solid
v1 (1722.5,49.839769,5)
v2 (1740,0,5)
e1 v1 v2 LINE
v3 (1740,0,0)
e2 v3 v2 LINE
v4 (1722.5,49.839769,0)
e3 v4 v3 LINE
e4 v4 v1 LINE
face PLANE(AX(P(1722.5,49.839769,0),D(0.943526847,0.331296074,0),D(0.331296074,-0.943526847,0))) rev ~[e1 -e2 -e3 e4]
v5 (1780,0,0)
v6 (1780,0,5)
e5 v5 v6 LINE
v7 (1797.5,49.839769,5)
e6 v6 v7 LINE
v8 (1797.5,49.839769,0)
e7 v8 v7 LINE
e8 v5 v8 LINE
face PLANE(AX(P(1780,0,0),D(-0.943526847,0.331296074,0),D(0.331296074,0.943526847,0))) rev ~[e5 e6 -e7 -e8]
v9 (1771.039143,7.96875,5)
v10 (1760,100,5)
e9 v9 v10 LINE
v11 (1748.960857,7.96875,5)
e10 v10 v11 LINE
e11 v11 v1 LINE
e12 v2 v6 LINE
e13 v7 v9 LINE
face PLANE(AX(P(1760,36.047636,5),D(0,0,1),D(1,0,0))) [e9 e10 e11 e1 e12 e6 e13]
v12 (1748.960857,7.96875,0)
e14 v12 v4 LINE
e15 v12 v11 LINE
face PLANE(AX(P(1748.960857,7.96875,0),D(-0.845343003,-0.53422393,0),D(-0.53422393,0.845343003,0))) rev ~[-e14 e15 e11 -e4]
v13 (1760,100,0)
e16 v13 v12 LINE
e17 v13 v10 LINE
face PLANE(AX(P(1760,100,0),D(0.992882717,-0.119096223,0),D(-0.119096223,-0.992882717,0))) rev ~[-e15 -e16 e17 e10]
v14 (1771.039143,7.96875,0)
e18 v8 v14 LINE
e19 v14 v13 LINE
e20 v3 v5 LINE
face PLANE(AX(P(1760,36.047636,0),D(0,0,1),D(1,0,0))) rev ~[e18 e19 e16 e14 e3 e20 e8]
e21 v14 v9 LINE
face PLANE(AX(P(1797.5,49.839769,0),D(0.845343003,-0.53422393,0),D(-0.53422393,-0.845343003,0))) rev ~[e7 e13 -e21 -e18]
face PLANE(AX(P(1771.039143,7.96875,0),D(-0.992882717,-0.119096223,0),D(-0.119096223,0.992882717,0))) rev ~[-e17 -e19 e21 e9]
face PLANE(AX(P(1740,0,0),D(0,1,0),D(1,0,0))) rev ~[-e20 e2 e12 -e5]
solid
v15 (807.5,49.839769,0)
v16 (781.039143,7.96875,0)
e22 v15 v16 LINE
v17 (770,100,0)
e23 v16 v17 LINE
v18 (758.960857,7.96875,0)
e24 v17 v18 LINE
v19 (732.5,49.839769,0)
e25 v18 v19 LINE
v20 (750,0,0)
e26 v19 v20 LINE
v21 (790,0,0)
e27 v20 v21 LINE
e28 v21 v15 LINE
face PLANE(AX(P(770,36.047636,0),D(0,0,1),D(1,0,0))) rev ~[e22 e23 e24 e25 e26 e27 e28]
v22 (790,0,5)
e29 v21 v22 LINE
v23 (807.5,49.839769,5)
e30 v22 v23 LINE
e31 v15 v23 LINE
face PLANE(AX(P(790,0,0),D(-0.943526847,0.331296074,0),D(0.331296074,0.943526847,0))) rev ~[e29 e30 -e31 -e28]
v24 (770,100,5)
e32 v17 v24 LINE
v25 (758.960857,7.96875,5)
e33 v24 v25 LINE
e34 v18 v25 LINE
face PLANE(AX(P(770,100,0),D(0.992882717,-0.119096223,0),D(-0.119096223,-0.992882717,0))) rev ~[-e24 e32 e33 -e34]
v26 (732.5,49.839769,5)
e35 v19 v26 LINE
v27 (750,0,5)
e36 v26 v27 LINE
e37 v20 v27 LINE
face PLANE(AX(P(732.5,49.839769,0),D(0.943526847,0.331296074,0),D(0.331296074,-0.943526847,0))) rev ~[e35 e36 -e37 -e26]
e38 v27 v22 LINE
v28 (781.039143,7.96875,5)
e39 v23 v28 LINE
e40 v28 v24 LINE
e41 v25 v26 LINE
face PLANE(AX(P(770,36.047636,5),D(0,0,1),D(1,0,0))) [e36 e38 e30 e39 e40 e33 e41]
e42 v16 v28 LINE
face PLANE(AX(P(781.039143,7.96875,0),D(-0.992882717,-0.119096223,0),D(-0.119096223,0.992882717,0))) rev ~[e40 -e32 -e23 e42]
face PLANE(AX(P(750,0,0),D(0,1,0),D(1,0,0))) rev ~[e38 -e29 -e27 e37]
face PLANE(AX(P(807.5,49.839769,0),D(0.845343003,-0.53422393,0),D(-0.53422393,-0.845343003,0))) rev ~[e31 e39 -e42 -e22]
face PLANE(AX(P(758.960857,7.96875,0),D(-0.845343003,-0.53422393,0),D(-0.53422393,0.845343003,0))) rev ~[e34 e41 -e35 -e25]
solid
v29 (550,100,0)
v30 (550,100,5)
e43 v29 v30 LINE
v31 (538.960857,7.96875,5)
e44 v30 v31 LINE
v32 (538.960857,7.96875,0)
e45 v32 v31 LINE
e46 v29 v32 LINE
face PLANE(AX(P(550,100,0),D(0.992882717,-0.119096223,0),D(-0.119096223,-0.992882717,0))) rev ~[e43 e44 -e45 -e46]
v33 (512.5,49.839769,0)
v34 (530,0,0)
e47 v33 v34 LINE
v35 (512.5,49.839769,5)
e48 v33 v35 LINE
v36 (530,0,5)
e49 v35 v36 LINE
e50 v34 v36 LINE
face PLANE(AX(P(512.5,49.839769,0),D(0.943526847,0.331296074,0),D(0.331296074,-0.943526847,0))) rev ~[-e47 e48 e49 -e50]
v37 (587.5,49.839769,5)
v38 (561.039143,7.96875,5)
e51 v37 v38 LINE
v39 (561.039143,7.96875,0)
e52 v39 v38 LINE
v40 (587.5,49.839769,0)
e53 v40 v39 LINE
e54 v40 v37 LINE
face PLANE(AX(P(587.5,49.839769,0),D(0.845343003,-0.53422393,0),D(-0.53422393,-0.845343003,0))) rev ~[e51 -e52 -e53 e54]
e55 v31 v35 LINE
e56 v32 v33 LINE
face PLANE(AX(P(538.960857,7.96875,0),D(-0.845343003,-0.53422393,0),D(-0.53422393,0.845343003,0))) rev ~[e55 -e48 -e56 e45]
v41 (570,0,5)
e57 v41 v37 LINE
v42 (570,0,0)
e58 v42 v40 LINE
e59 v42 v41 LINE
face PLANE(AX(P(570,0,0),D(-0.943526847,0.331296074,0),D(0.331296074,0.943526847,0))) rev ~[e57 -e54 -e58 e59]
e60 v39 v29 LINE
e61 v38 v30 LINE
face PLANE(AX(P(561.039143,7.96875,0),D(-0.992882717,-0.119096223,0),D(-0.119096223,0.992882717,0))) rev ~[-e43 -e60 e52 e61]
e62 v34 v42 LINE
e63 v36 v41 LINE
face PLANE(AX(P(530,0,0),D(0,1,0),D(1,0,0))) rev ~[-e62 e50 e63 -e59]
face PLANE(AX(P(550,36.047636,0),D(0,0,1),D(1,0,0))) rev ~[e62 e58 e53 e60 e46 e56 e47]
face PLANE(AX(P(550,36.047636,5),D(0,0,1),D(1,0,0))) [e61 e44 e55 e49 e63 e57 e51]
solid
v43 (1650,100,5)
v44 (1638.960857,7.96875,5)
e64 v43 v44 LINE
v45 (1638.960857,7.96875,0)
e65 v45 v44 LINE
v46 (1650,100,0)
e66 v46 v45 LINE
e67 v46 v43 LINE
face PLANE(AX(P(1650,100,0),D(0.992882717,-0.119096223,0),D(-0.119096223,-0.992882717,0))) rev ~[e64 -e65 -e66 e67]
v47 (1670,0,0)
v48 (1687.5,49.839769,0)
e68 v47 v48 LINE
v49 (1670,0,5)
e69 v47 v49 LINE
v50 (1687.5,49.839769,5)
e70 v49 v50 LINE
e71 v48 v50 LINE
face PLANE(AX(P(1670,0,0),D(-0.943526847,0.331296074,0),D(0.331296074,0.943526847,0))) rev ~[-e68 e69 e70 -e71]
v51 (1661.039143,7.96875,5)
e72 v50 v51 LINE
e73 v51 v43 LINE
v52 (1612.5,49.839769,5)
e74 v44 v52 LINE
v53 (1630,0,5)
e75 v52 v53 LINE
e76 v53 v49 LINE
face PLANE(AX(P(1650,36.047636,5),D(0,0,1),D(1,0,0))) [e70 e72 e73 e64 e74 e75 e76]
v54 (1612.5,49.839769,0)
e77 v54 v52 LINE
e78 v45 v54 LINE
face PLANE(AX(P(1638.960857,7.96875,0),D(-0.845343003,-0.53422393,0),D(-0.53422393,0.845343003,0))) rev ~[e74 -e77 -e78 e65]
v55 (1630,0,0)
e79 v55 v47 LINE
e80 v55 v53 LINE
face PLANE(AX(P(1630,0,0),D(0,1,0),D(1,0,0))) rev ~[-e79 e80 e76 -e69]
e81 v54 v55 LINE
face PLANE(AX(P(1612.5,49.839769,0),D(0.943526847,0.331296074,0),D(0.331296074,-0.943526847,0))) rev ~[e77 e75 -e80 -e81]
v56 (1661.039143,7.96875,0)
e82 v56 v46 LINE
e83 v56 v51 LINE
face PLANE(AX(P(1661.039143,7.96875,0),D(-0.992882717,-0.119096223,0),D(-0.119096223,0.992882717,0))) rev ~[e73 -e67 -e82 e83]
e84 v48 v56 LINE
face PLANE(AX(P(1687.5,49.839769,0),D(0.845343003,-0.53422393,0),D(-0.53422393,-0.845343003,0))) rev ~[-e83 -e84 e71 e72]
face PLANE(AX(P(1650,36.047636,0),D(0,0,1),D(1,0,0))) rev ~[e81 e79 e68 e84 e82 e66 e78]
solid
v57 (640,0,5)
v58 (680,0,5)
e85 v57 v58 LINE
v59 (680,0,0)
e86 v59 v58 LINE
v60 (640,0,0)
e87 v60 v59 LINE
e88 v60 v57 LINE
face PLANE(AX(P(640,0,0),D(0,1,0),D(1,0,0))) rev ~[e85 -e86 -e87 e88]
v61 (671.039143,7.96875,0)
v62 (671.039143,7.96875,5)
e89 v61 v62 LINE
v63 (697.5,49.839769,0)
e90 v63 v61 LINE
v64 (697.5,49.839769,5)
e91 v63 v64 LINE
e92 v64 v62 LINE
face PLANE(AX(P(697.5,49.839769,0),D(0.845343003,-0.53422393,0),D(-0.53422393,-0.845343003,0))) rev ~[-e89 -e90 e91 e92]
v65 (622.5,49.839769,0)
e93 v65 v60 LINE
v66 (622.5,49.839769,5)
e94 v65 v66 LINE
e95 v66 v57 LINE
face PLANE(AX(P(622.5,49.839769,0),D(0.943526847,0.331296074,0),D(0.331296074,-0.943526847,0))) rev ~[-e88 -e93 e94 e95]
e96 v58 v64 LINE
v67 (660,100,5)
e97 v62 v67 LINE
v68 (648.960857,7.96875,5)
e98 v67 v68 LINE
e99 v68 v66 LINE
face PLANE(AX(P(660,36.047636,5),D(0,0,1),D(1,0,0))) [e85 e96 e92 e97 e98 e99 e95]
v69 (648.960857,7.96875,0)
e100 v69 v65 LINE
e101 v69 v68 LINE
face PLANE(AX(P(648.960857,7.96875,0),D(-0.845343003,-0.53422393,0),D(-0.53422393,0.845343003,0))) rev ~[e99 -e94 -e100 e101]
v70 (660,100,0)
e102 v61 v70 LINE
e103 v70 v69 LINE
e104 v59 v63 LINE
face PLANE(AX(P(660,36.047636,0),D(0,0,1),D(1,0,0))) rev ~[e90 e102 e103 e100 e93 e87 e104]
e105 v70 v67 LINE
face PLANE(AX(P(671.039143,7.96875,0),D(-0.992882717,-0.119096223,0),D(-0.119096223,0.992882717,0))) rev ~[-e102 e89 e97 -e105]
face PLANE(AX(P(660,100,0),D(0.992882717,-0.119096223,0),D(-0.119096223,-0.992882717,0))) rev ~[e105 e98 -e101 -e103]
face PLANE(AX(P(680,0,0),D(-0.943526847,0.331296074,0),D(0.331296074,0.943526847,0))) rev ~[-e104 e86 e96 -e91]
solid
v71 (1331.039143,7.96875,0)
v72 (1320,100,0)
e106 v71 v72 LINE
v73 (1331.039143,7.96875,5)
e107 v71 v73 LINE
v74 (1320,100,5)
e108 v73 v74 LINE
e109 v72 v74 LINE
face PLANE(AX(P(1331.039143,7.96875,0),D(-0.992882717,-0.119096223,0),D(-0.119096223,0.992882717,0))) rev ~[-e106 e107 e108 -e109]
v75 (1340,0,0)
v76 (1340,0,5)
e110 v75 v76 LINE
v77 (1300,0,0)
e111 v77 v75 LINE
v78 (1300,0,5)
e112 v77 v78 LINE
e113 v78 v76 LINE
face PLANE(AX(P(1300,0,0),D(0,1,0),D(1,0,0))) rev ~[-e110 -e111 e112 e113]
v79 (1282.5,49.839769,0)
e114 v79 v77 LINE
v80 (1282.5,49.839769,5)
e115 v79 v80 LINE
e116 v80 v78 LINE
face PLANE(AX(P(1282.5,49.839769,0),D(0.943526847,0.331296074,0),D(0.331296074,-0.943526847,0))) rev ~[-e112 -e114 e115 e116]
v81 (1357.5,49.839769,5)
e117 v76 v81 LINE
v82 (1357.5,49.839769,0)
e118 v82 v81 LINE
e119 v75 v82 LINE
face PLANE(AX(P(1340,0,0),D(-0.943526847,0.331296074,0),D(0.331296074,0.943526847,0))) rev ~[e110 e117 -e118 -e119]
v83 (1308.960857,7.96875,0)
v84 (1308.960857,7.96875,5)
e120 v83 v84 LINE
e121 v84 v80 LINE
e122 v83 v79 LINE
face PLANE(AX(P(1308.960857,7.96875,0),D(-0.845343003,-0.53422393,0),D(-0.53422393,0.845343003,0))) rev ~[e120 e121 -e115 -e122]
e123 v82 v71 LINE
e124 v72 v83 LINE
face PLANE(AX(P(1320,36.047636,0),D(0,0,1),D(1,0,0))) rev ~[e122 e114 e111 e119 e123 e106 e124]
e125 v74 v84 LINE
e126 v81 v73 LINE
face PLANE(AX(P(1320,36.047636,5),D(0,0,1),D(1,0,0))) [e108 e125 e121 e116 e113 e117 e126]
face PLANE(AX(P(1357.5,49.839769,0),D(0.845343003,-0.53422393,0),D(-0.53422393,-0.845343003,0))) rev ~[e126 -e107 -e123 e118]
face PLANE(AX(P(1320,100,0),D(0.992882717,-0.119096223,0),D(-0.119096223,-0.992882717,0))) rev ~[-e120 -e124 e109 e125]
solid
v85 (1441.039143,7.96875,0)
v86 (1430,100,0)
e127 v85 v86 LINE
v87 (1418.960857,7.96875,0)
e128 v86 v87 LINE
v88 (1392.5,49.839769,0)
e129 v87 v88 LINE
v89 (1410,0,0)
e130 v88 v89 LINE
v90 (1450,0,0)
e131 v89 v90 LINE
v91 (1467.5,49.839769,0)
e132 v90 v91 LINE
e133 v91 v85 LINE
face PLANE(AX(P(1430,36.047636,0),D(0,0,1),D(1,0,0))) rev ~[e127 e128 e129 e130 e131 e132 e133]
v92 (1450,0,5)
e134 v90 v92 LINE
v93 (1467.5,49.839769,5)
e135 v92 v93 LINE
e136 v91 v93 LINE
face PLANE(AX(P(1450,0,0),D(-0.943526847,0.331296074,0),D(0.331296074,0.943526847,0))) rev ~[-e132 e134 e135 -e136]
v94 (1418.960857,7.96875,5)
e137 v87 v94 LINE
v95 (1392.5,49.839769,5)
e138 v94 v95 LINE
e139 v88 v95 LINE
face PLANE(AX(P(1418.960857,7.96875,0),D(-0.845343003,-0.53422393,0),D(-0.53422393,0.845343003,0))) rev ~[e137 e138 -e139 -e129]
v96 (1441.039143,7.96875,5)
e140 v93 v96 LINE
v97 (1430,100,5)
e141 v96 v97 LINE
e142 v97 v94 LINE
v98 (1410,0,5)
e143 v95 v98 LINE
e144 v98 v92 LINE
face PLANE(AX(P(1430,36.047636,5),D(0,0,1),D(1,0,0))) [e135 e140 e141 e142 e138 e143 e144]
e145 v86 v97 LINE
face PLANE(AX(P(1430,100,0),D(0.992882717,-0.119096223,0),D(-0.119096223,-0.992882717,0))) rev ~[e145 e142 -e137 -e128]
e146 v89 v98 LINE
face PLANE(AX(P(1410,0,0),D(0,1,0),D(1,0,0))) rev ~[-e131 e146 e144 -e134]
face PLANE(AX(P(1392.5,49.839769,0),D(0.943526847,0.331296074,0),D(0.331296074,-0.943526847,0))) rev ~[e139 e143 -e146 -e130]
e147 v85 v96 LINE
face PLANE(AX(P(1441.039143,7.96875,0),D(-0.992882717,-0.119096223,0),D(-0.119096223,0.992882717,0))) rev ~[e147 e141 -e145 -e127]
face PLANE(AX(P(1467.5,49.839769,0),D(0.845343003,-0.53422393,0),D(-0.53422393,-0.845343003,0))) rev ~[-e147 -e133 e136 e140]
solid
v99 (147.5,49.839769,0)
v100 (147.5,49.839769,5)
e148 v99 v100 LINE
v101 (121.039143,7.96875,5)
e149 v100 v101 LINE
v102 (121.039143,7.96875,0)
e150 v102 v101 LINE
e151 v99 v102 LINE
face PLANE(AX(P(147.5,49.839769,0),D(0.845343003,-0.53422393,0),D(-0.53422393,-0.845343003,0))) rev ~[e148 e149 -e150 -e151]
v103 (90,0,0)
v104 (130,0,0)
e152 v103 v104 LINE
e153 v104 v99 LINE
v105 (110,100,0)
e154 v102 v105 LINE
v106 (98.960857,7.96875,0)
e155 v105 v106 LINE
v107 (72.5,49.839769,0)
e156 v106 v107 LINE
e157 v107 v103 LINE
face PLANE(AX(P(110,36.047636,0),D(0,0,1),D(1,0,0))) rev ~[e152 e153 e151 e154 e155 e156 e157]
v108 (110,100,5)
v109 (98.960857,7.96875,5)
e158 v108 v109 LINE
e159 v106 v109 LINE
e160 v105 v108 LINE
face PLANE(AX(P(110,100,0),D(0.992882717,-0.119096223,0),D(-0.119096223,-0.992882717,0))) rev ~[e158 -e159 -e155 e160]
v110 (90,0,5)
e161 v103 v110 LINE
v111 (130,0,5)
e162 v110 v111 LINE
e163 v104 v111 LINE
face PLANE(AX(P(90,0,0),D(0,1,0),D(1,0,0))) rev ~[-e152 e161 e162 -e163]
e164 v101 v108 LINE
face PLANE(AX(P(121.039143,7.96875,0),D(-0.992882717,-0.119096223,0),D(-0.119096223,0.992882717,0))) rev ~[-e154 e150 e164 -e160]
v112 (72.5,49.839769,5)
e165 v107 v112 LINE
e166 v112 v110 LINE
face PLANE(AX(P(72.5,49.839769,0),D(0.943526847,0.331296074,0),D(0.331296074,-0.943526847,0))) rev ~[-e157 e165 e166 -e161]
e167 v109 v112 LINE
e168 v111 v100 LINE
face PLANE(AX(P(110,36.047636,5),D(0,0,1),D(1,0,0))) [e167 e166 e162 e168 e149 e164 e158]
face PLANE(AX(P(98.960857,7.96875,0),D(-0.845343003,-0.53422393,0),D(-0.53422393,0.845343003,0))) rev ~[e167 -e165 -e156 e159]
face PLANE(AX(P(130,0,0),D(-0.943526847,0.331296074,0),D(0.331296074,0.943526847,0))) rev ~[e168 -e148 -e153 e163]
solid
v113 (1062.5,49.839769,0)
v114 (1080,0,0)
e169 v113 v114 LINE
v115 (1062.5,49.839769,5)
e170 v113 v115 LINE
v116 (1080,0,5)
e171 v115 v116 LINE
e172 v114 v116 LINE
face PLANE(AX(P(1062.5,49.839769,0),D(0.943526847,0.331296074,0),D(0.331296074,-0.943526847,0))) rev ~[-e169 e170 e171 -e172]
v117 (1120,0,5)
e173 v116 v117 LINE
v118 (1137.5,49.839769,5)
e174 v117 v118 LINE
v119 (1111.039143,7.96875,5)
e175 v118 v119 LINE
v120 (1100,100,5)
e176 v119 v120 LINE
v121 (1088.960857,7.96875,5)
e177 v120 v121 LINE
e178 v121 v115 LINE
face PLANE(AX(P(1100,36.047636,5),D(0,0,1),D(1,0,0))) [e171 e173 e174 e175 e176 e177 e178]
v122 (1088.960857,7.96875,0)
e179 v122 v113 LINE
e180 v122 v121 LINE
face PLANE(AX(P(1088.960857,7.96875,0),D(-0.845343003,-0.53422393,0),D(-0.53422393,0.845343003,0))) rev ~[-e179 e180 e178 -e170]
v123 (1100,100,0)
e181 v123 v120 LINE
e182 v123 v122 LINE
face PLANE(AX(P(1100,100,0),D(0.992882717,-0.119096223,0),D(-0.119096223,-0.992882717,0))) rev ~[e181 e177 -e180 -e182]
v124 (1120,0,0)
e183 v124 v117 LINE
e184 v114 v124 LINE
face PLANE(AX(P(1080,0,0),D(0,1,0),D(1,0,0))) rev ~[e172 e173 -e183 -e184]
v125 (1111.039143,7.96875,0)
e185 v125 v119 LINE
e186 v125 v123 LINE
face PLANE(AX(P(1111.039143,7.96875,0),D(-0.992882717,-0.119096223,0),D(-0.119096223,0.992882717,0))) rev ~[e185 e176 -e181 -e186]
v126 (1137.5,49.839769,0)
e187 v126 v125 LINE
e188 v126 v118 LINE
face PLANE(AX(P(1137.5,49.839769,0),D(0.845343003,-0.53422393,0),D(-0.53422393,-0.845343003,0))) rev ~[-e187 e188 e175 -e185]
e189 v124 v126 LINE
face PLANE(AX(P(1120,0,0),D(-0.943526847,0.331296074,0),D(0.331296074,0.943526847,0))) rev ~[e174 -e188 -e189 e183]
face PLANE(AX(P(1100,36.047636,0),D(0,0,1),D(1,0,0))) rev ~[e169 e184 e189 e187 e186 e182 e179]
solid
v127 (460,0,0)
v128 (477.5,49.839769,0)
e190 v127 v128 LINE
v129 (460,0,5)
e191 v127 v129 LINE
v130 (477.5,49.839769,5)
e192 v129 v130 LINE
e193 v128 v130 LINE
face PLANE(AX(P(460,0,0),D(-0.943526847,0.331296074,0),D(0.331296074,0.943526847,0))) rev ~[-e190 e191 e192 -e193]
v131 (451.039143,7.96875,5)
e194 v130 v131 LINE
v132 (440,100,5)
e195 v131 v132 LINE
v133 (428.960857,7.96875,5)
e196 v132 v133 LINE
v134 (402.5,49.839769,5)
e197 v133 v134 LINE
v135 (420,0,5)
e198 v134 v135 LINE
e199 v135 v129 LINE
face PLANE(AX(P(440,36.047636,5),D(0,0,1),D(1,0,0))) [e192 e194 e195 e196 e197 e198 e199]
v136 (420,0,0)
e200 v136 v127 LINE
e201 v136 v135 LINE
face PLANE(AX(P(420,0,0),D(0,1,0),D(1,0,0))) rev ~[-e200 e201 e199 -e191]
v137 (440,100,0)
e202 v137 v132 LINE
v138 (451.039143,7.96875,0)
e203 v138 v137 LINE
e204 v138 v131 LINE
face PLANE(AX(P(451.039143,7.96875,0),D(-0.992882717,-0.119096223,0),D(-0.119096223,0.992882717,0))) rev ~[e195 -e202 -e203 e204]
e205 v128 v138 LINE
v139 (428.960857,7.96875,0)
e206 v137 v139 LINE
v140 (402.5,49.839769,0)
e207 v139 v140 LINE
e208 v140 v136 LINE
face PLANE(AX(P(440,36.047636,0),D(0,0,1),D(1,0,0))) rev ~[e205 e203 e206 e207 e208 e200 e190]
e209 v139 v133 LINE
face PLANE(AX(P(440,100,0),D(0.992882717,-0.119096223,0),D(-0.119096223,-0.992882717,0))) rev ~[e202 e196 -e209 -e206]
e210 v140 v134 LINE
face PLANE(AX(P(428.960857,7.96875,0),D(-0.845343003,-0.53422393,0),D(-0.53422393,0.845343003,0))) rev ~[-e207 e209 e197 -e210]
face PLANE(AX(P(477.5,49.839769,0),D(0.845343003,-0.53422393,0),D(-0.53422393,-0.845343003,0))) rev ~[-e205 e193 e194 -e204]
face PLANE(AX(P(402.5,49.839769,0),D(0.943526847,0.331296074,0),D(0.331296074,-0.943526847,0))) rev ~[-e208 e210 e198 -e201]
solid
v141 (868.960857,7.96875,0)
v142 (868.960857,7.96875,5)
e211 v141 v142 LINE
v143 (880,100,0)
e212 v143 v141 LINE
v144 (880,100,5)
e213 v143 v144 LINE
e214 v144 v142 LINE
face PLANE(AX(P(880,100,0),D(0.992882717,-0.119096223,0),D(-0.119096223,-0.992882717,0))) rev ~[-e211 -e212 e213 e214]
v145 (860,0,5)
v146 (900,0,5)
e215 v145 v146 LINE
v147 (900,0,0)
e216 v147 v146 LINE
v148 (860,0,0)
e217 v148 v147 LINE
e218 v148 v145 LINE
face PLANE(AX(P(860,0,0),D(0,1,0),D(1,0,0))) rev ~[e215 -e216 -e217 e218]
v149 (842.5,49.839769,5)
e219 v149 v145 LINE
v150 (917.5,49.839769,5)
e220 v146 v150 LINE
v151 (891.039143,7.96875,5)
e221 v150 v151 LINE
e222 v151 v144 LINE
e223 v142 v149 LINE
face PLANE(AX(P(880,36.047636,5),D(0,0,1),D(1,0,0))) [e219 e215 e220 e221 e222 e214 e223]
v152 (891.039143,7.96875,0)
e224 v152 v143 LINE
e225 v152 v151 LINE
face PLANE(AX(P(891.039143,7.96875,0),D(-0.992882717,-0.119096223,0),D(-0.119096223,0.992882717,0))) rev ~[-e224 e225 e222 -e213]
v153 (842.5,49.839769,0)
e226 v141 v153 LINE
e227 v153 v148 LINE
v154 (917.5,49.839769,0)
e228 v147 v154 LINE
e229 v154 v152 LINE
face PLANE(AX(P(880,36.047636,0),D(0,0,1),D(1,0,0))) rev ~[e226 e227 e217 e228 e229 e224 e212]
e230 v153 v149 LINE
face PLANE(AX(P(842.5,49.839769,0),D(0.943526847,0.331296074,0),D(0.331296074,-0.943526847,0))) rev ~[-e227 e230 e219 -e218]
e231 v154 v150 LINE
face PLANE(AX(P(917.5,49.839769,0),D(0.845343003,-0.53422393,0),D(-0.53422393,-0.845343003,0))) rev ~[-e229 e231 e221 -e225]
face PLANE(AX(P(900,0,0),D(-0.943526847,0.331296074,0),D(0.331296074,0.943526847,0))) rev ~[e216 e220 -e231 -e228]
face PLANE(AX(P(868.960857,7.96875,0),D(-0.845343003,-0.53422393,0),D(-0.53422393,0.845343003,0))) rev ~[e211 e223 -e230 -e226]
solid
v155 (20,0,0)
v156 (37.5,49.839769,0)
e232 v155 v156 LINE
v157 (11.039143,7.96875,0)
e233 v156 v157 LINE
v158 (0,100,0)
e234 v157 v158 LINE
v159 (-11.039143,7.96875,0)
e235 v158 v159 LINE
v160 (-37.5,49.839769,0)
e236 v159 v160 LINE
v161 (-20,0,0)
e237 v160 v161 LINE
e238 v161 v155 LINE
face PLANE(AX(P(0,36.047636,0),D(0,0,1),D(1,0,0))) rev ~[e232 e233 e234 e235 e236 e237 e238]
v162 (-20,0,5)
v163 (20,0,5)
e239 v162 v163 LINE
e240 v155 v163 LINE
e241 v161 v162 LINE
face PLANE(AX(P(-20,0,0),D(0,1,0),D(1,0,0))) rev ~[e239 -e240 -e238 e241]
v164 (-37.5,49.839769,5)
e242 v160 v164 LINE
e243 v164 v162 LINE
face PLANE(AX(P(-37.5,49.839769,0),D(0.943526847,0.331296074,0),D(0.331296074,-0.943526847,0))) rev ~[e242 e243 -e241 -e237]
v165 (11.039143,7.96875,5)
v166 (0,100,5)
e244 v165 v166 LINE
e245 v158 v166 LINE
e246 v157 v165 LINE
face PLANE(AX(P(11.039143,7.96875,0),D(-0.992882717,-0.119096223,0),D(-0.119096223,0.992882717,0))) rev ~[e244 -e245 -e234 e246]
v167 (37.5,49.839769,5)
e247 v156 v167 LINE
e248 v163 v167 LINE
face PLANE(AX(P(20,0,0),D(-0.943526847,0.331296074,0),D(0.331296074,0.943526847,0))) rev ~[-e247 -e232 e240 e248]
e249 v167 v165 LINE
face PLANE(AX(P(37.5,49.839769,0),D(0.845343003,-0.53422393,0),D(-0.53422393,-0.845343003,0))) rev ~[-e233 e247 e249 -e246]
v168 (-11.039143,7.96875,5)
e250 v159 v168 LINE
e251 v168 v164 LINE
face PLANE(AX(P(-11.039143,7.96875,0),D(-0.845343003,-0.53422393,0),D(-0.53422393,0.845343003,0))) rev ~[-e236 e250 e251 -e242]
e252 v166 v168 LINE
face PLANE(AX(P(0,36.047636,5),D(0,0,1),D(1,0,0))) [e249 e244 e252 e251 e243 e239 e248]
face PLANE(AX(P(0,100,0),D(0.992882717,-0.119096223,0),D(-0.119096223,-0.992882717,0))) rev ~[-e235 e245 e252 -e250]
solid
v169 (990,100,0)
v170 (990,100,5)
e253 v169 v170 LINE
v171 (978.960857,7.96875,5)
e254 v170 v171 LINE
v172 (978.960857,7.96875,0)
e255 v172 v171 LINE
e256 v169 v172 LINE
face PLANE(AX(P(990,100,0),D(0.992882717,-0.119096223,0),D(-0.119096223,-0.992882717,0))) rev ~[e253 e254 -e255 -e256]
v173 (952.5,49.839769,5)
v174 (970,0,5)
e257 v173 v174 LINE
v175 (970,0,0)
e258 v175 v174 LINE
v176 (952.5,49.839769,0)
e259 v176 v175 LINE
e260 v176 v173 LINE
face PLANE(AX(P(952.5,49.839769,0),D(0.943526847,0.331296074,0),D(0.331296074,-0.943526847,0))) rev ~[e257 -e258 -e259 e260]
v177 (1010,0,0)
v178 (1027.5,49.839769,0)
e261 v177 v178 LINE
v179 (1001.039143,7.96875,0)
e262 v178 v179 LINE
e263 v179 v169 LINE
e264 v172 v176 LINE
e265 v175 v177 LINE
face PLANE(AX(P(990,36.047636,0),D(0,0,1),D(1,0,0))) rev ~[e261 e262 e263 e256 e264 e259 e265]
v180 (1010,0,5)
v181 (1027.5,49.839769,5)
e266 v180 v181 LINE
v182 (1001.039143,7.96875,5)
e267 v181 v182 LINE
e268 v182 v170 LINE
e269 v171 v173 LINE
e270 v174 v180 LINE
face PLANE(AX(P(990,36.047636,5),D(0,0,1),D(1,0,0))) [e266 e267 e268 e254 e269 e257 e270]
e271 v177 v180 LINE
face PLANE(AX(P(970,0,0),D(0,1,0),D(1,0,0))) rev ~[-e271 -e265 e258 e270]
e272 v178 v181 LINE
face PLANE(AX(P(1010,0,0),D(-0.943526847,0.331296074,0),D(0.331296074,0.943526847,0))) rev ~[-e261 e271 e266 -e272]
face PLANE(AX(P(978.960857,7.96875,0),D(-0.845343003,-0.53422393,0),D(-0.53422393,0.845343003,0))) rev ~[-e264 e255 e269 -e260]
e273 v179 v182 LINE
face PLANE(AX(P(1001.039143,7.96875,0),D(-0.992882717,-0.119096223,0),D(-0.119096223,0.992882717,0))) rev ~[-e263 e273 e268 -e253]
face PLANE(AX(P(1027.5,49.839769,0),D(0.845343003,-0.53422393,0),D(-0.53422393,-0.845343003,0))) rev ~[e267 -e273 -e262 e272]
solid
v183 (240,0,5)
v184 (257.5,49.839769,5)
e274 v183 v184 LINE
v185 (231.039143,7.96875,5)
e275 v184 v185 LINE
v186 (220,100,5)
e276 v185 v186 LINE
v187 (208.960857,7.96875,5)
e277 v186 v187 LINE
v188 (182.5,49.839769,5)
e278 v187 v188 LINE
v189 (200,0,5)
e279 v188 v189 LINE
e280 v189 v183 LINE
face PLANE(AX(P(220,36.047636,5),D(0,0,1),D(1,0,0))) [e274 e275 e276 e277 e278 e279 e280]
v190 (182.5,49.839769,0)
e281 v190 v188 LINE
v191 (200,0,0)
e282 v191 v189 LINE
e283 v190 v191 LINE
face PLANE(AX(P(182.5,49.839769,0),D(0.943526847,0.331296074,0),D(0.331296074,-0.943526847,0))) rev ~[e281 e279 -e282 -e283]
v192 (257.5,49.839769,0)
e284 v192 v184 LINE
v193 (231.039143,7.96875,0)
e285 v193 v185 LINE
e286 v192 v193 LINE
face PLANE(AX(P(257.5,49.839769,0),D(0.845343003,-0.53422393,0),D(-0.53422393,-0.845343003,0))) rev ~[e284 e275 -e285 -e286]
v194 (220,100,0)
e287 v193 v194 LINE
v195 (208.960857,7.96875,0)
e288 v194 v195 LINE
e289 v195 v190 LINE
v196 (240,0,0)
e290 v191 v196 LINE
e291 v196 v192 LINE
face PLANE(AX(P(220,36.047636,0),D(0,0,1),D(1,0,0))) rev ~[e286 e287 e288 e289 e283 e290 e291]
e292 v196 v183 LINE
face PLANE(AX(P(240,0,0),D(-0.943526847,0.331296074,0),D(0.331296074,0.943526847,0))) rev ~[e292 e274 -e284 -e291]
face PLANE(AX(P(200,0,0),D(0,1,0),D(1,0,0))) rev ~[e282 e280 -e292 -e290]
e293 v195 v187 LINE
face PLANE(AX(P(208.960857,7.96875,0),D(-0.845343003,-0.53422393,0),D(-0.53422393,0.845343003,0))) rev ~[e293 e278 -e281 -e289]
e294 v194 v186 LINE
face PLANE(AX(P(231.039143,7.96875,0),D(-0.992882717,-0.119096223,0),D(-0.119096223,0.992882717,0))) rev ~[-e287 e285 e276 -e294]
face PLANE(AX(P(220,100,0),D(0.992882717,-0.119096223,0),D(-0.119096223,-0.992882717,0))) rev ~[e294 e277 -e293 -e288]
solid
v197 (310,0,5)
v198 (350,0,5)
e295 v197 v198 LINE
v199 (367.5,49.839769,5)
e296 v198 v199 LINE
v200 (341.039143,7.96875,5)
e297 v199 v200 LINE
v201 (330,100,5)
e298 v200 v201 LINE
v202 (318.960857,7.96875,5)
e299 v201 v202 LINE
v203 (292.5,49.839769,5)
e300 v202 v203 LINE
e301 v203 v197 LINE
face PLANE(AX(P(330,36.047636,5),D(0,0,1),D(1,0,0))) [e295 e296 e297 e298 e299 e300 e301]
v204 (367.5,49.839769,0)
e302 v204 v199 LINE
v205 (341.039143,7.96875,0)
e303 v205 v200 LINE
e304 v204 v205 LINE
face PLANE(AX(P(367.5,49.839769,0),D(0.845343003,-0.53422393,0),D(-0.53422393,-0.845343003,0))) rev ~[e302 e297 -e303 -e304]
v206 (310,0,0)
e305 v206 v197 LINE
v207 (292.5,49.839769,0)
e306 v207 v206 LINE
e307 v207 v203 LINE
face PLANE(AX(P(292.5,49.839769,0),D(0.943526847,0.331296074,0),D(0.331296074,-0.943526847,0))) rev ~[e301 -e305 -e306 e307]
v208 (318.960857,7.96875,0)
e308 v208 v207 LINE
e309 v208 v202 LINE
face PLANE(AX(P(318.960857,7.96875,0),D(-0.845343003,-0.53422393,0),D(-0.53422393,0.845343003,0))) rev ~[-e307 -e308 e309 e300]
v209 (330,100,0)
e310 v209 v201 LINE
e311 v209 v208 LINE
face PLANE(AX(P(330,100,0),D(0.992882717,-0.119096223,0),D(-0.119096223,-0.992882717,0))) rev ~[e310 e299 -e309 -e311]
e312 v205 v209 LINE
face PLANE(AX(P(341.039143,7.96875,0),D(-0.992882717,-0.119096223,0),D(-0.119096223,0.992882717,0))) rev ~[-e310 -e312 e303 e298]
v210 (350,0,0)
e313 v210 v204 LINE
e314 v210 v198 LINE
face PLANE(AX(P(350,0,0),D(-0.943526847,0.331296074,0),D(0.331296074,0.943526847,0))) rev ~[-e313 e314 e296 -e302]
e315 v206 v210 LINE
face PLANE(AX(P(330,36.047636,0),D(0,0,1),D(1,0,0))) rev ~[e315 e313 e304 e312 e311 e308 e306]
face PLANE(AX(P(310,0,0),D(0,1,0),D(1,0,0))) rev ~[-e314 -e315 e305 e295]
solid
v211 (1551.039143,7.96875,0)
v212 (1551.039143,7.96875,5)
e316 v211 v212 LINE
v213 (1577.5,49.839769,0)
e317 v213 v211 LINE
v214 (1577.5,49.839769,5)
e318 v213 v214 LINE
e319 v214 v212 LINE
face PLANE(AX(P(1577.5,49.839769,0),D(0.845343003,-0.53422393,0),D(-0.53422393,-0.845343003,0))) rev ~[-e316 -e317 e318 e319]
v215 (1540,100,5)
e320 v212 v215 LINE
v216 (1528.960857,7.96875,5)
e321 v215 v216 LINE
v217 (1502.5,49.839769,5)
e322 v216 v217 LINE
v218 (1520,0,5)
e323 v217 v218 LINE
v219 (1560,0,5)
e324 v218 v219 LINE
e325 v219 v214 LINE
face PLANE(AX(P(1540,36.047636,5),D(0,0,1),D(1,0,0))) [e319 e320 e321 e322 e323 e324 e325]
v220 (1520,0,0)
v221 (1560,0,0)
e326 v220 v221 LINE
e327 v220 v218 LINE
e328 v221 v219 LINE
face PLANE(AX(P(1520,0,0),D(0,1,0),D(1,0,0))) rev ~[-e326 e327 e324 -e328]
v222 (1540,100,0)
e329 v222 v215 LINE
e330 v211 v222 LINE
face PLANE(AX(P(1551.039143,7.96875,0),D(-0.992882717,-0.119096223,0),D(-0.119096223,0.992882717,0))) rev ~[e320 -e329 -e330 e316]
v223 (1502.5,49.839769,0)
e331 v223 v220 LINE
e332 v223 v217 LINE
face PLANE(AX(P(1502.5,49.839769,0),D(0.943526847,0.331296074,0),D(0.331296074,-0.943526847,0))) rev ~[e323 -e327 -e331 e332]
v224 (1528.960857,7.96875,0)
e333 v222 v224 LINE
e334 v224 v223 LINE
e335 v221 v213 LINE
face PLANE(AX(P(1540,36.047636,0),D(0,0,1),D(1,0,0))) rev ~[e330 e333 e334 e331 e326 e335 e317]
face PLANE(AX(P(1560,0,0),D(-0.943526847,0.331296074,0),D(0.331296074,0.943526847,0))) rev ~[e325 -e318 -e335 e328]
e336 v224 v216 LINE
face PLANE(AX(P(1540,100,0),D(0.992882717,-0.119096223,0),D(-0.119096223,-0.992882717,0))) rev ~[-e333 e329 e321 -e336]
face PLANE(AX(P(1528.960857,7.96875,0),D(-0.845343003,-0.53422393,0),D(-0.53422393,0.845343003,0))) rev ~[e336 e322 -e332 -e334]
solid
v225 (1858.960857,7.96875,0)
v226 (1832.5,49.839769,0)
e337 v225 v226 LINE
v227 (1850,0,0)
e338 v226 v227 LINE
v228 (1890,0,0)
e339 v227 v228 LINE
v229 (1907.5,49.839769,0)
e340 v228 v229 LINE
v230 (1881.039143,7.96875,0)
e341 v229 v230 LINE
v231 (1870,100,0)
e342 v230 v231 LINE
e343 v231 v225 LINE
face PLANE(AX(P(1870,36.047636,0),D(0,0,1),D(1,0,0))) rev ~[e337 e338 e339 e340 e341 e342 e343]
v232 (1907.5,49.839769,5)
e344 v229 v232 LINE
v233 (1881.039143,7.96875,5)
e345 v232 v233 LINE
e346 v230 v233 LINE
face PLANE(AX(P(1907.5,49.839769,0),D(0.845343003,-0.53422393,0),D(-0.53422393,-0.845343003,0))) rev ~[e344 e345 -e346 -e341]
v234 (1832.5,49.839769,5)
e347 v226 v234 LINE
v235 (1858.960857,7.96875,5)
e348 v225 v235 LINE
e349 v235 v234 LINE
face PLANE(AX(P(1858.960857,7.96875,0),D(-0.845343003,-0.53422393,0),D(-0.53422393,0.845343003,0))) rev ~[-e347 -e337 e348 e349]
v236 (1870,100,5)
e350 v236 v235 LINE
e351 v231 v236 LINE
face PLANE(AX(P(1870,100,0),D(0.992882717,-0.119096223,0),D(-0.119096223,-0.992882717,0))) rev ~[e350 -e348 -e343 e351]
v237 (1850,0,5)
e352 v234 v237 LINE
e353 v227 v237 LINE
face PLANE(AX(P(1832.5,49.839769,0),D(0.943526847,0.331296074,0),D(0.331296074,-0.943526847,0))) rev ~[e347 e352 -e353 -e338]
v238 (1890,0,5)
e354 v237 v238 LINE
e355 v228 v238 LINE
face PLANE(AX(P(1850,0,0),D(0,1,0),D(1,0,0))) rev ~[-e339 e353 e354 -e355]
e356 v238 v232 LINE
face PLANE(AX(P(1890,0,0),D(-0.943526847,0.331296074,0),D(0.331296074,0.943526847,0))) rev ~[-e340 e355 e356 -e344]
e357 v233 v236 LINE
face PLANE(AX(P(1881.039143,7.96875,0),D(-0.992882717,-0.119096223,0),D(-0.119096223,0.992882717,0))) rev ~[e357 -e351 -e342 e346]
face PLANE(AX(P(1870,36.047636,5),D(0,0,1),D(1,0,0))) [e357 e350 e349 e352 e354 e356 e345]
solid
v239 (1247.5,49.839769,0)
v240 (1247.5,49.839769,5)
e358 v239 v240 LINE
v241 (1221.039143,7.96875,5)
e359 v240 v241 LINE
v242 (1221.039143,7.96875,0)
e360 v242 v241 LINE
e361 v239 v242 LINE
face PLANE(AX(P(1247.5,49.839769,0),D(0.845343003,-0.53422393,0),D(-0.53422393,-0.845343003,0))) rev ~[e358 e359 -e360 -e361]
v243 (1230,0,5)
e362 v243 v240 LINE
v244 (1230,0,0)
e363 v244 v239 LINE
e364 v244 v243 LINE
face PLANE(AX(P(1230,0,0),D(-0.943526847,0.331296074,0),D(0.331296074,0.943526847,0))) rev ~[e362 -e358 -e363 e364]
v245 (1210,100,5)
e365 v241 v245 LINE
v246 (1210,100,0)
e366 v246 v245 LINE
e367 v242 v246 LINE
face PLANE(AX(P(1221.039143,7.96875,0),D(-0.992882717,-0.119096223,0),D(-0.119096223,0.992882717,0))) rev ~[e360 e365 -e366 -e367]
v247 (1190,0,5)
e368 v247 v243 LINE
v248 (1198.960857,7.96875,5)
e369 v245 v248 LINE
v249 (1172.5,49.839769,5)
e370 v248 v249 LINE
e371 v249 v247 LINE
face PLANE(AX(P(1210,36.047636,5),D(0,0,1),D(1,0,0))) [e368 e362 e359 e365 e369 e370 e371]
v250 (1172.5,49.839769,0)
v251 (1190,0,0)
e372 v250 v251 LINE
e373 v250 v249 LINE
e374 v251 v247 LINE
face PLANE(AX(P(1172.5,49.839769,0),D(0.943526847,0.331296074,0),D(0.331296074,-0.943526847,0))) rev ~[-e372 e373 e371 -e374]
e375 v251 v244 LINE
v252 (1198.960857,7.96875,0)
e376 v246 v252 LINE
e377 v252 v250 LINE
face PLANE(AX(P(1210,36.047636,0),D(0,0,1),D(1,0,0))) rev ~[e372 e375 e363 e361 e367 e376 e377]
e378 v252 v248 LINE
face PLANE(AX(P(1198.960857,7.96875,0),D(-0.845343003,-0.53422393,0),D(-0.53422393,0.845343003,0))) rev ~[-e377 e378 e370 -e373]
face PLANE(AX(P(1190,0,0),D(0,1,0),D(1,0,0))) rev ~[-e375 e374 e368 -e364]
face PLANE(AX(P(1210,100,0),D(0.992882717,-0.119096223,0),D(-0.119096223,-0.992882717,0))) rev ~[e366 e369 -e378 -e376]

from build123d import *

# Parameters (mm, degrees)
F1_DEPTH = 5


with BuildPart() as f1:
    # F0 (on Top) → F1 (new body)
    with BuildSketch(Plane.XY):
        Polygon((-20, 0), (0, 0), (20, 0), (37.5, 49.839769), (11.039143, 7.96875), (0, 100), (-11.039143, 7.96875), (-37.5, 49.839769), align=None)
        Polygon((98.960857, 7.96875), (72.5, 49.839769), (90, 0), (110, 0), (130, 0), (147.5, 49.839769), (121.039143, 7.96875), (110, 100), align=None)
        Polygon((208.960857, 7.96875), (182.5, 49.839769), (200, 0), (220, 0), (240, 0), (257.5, 49.839769), (231.039143, 7.96875), (220, 100), align=None)
        Polygon((318.960857, 7.96875), (292.5, 49.839769), (310, 0), (330, 0), (350, 0), (367.5, 49.839769), (341.039143, 7.96875), (330, 100), align=None)
        Polygon((428.960857, 7.96875), (402.5, 49.839769), (420, 0), (440, 0), (460, 0), (477.5, 49.839769), (451.039143, 7.96875), (440, 100), align=None)
        Polygon((538.960857, 7.96875), (512.5, 49.839769), (530, 0), (550, 0), (570, 0), (587.5, 49.839769), (561.039143, 7.96875), (550, 100), align=None)
        Polygon((648.960857, 7.96875), (622.5, 49.839769), (640, 0), (660, 0), (680, 0), (697.5, 49.839769), (671.039143, 7.96875), (660, 100), align=None)
        Polygon((758.960857, 7.96875), (732.5, 49.839769), (750, 0), (770, 0), (790, 0), (807.5, 49.839769), (781.039143, 7.96875), (770, 100), align=None)
        Polygon((868.960857, 7.96875), (842.5, 49.839769), (860, 0), (880, 0), (900, 0), (917.5, 49.839769), (891.039143, 7.96875), (880, 100), align=None)
        Polygon((978.960857, 7.96875), (952.5, 49.839769), (970, 0), (990, 0), (1010, 0), (1027.5, 49.839769), (1001.039143, 7.96875), (990, 100), align=None)
        Polygon((1088.960857, 7.96875), (1062.5, 49.839769), (1080, 0), (1100, 0), (1120, 0), (1137.5, 49.839769), (1111.039143, 7.96875), (1100, 100), align=None)
        Polygon((1198.960857, 7.96875), (1172.5, 49.839769), (1190, 0), (1210, 0), (1230, 0), (1247.5, 49.839769), (1221.039143, 7.96875), (1210, 100), align=None)
        Polygon((1308.960857, 7.96875), (1282.5, 49.839769), (1300, 0), (1320, 0), (1340, 0), (1357.5, 49.839769), (1331.039143, 7.96875), (1320, 100), align=None)
        Polygon((1418.960857, 7.96875), (1392.5, 49.839769), (1410, 0), (1430, 0), (1450, 0), (1467.5, 49.839769), (1441.039143, 7.96875), (1430, 100), align=None)
        Polygon((1528.960857, 7.96875), (1502.5, 49.839769), (1520, 0), (1540, 0), (1560, 0), (1577.5, 49.839769), (1551.039143, 7.96875), (1540, 100), align=None)
        Polygon((1638.960857, 7.96875), (1612.5, 49.839769), (1630, 0), (1650, 0), (1670, 0), (1687.5, 49.839769), (1661.039143, 7.96875), (1650, 100), align=None)
        Polygon((1748.960857, 7.96875), (1722.5, 49.839769), (1740, 0), (1760, 0), (1780, 0), (1797.5, 49.839769), (1771.039143, 7.96875), (1760, 100), align=None)
        Polygon((1858.960857, 7.96875), (1832.5, 49.839769), (1850, 0), (1870, 0), (1890, 0), (1907.5, 49.839769), (1881.039143, 7.96875), (1870, 100), align=None)
    extrude(amount=F1_DEPTH)


solid = f1.part
